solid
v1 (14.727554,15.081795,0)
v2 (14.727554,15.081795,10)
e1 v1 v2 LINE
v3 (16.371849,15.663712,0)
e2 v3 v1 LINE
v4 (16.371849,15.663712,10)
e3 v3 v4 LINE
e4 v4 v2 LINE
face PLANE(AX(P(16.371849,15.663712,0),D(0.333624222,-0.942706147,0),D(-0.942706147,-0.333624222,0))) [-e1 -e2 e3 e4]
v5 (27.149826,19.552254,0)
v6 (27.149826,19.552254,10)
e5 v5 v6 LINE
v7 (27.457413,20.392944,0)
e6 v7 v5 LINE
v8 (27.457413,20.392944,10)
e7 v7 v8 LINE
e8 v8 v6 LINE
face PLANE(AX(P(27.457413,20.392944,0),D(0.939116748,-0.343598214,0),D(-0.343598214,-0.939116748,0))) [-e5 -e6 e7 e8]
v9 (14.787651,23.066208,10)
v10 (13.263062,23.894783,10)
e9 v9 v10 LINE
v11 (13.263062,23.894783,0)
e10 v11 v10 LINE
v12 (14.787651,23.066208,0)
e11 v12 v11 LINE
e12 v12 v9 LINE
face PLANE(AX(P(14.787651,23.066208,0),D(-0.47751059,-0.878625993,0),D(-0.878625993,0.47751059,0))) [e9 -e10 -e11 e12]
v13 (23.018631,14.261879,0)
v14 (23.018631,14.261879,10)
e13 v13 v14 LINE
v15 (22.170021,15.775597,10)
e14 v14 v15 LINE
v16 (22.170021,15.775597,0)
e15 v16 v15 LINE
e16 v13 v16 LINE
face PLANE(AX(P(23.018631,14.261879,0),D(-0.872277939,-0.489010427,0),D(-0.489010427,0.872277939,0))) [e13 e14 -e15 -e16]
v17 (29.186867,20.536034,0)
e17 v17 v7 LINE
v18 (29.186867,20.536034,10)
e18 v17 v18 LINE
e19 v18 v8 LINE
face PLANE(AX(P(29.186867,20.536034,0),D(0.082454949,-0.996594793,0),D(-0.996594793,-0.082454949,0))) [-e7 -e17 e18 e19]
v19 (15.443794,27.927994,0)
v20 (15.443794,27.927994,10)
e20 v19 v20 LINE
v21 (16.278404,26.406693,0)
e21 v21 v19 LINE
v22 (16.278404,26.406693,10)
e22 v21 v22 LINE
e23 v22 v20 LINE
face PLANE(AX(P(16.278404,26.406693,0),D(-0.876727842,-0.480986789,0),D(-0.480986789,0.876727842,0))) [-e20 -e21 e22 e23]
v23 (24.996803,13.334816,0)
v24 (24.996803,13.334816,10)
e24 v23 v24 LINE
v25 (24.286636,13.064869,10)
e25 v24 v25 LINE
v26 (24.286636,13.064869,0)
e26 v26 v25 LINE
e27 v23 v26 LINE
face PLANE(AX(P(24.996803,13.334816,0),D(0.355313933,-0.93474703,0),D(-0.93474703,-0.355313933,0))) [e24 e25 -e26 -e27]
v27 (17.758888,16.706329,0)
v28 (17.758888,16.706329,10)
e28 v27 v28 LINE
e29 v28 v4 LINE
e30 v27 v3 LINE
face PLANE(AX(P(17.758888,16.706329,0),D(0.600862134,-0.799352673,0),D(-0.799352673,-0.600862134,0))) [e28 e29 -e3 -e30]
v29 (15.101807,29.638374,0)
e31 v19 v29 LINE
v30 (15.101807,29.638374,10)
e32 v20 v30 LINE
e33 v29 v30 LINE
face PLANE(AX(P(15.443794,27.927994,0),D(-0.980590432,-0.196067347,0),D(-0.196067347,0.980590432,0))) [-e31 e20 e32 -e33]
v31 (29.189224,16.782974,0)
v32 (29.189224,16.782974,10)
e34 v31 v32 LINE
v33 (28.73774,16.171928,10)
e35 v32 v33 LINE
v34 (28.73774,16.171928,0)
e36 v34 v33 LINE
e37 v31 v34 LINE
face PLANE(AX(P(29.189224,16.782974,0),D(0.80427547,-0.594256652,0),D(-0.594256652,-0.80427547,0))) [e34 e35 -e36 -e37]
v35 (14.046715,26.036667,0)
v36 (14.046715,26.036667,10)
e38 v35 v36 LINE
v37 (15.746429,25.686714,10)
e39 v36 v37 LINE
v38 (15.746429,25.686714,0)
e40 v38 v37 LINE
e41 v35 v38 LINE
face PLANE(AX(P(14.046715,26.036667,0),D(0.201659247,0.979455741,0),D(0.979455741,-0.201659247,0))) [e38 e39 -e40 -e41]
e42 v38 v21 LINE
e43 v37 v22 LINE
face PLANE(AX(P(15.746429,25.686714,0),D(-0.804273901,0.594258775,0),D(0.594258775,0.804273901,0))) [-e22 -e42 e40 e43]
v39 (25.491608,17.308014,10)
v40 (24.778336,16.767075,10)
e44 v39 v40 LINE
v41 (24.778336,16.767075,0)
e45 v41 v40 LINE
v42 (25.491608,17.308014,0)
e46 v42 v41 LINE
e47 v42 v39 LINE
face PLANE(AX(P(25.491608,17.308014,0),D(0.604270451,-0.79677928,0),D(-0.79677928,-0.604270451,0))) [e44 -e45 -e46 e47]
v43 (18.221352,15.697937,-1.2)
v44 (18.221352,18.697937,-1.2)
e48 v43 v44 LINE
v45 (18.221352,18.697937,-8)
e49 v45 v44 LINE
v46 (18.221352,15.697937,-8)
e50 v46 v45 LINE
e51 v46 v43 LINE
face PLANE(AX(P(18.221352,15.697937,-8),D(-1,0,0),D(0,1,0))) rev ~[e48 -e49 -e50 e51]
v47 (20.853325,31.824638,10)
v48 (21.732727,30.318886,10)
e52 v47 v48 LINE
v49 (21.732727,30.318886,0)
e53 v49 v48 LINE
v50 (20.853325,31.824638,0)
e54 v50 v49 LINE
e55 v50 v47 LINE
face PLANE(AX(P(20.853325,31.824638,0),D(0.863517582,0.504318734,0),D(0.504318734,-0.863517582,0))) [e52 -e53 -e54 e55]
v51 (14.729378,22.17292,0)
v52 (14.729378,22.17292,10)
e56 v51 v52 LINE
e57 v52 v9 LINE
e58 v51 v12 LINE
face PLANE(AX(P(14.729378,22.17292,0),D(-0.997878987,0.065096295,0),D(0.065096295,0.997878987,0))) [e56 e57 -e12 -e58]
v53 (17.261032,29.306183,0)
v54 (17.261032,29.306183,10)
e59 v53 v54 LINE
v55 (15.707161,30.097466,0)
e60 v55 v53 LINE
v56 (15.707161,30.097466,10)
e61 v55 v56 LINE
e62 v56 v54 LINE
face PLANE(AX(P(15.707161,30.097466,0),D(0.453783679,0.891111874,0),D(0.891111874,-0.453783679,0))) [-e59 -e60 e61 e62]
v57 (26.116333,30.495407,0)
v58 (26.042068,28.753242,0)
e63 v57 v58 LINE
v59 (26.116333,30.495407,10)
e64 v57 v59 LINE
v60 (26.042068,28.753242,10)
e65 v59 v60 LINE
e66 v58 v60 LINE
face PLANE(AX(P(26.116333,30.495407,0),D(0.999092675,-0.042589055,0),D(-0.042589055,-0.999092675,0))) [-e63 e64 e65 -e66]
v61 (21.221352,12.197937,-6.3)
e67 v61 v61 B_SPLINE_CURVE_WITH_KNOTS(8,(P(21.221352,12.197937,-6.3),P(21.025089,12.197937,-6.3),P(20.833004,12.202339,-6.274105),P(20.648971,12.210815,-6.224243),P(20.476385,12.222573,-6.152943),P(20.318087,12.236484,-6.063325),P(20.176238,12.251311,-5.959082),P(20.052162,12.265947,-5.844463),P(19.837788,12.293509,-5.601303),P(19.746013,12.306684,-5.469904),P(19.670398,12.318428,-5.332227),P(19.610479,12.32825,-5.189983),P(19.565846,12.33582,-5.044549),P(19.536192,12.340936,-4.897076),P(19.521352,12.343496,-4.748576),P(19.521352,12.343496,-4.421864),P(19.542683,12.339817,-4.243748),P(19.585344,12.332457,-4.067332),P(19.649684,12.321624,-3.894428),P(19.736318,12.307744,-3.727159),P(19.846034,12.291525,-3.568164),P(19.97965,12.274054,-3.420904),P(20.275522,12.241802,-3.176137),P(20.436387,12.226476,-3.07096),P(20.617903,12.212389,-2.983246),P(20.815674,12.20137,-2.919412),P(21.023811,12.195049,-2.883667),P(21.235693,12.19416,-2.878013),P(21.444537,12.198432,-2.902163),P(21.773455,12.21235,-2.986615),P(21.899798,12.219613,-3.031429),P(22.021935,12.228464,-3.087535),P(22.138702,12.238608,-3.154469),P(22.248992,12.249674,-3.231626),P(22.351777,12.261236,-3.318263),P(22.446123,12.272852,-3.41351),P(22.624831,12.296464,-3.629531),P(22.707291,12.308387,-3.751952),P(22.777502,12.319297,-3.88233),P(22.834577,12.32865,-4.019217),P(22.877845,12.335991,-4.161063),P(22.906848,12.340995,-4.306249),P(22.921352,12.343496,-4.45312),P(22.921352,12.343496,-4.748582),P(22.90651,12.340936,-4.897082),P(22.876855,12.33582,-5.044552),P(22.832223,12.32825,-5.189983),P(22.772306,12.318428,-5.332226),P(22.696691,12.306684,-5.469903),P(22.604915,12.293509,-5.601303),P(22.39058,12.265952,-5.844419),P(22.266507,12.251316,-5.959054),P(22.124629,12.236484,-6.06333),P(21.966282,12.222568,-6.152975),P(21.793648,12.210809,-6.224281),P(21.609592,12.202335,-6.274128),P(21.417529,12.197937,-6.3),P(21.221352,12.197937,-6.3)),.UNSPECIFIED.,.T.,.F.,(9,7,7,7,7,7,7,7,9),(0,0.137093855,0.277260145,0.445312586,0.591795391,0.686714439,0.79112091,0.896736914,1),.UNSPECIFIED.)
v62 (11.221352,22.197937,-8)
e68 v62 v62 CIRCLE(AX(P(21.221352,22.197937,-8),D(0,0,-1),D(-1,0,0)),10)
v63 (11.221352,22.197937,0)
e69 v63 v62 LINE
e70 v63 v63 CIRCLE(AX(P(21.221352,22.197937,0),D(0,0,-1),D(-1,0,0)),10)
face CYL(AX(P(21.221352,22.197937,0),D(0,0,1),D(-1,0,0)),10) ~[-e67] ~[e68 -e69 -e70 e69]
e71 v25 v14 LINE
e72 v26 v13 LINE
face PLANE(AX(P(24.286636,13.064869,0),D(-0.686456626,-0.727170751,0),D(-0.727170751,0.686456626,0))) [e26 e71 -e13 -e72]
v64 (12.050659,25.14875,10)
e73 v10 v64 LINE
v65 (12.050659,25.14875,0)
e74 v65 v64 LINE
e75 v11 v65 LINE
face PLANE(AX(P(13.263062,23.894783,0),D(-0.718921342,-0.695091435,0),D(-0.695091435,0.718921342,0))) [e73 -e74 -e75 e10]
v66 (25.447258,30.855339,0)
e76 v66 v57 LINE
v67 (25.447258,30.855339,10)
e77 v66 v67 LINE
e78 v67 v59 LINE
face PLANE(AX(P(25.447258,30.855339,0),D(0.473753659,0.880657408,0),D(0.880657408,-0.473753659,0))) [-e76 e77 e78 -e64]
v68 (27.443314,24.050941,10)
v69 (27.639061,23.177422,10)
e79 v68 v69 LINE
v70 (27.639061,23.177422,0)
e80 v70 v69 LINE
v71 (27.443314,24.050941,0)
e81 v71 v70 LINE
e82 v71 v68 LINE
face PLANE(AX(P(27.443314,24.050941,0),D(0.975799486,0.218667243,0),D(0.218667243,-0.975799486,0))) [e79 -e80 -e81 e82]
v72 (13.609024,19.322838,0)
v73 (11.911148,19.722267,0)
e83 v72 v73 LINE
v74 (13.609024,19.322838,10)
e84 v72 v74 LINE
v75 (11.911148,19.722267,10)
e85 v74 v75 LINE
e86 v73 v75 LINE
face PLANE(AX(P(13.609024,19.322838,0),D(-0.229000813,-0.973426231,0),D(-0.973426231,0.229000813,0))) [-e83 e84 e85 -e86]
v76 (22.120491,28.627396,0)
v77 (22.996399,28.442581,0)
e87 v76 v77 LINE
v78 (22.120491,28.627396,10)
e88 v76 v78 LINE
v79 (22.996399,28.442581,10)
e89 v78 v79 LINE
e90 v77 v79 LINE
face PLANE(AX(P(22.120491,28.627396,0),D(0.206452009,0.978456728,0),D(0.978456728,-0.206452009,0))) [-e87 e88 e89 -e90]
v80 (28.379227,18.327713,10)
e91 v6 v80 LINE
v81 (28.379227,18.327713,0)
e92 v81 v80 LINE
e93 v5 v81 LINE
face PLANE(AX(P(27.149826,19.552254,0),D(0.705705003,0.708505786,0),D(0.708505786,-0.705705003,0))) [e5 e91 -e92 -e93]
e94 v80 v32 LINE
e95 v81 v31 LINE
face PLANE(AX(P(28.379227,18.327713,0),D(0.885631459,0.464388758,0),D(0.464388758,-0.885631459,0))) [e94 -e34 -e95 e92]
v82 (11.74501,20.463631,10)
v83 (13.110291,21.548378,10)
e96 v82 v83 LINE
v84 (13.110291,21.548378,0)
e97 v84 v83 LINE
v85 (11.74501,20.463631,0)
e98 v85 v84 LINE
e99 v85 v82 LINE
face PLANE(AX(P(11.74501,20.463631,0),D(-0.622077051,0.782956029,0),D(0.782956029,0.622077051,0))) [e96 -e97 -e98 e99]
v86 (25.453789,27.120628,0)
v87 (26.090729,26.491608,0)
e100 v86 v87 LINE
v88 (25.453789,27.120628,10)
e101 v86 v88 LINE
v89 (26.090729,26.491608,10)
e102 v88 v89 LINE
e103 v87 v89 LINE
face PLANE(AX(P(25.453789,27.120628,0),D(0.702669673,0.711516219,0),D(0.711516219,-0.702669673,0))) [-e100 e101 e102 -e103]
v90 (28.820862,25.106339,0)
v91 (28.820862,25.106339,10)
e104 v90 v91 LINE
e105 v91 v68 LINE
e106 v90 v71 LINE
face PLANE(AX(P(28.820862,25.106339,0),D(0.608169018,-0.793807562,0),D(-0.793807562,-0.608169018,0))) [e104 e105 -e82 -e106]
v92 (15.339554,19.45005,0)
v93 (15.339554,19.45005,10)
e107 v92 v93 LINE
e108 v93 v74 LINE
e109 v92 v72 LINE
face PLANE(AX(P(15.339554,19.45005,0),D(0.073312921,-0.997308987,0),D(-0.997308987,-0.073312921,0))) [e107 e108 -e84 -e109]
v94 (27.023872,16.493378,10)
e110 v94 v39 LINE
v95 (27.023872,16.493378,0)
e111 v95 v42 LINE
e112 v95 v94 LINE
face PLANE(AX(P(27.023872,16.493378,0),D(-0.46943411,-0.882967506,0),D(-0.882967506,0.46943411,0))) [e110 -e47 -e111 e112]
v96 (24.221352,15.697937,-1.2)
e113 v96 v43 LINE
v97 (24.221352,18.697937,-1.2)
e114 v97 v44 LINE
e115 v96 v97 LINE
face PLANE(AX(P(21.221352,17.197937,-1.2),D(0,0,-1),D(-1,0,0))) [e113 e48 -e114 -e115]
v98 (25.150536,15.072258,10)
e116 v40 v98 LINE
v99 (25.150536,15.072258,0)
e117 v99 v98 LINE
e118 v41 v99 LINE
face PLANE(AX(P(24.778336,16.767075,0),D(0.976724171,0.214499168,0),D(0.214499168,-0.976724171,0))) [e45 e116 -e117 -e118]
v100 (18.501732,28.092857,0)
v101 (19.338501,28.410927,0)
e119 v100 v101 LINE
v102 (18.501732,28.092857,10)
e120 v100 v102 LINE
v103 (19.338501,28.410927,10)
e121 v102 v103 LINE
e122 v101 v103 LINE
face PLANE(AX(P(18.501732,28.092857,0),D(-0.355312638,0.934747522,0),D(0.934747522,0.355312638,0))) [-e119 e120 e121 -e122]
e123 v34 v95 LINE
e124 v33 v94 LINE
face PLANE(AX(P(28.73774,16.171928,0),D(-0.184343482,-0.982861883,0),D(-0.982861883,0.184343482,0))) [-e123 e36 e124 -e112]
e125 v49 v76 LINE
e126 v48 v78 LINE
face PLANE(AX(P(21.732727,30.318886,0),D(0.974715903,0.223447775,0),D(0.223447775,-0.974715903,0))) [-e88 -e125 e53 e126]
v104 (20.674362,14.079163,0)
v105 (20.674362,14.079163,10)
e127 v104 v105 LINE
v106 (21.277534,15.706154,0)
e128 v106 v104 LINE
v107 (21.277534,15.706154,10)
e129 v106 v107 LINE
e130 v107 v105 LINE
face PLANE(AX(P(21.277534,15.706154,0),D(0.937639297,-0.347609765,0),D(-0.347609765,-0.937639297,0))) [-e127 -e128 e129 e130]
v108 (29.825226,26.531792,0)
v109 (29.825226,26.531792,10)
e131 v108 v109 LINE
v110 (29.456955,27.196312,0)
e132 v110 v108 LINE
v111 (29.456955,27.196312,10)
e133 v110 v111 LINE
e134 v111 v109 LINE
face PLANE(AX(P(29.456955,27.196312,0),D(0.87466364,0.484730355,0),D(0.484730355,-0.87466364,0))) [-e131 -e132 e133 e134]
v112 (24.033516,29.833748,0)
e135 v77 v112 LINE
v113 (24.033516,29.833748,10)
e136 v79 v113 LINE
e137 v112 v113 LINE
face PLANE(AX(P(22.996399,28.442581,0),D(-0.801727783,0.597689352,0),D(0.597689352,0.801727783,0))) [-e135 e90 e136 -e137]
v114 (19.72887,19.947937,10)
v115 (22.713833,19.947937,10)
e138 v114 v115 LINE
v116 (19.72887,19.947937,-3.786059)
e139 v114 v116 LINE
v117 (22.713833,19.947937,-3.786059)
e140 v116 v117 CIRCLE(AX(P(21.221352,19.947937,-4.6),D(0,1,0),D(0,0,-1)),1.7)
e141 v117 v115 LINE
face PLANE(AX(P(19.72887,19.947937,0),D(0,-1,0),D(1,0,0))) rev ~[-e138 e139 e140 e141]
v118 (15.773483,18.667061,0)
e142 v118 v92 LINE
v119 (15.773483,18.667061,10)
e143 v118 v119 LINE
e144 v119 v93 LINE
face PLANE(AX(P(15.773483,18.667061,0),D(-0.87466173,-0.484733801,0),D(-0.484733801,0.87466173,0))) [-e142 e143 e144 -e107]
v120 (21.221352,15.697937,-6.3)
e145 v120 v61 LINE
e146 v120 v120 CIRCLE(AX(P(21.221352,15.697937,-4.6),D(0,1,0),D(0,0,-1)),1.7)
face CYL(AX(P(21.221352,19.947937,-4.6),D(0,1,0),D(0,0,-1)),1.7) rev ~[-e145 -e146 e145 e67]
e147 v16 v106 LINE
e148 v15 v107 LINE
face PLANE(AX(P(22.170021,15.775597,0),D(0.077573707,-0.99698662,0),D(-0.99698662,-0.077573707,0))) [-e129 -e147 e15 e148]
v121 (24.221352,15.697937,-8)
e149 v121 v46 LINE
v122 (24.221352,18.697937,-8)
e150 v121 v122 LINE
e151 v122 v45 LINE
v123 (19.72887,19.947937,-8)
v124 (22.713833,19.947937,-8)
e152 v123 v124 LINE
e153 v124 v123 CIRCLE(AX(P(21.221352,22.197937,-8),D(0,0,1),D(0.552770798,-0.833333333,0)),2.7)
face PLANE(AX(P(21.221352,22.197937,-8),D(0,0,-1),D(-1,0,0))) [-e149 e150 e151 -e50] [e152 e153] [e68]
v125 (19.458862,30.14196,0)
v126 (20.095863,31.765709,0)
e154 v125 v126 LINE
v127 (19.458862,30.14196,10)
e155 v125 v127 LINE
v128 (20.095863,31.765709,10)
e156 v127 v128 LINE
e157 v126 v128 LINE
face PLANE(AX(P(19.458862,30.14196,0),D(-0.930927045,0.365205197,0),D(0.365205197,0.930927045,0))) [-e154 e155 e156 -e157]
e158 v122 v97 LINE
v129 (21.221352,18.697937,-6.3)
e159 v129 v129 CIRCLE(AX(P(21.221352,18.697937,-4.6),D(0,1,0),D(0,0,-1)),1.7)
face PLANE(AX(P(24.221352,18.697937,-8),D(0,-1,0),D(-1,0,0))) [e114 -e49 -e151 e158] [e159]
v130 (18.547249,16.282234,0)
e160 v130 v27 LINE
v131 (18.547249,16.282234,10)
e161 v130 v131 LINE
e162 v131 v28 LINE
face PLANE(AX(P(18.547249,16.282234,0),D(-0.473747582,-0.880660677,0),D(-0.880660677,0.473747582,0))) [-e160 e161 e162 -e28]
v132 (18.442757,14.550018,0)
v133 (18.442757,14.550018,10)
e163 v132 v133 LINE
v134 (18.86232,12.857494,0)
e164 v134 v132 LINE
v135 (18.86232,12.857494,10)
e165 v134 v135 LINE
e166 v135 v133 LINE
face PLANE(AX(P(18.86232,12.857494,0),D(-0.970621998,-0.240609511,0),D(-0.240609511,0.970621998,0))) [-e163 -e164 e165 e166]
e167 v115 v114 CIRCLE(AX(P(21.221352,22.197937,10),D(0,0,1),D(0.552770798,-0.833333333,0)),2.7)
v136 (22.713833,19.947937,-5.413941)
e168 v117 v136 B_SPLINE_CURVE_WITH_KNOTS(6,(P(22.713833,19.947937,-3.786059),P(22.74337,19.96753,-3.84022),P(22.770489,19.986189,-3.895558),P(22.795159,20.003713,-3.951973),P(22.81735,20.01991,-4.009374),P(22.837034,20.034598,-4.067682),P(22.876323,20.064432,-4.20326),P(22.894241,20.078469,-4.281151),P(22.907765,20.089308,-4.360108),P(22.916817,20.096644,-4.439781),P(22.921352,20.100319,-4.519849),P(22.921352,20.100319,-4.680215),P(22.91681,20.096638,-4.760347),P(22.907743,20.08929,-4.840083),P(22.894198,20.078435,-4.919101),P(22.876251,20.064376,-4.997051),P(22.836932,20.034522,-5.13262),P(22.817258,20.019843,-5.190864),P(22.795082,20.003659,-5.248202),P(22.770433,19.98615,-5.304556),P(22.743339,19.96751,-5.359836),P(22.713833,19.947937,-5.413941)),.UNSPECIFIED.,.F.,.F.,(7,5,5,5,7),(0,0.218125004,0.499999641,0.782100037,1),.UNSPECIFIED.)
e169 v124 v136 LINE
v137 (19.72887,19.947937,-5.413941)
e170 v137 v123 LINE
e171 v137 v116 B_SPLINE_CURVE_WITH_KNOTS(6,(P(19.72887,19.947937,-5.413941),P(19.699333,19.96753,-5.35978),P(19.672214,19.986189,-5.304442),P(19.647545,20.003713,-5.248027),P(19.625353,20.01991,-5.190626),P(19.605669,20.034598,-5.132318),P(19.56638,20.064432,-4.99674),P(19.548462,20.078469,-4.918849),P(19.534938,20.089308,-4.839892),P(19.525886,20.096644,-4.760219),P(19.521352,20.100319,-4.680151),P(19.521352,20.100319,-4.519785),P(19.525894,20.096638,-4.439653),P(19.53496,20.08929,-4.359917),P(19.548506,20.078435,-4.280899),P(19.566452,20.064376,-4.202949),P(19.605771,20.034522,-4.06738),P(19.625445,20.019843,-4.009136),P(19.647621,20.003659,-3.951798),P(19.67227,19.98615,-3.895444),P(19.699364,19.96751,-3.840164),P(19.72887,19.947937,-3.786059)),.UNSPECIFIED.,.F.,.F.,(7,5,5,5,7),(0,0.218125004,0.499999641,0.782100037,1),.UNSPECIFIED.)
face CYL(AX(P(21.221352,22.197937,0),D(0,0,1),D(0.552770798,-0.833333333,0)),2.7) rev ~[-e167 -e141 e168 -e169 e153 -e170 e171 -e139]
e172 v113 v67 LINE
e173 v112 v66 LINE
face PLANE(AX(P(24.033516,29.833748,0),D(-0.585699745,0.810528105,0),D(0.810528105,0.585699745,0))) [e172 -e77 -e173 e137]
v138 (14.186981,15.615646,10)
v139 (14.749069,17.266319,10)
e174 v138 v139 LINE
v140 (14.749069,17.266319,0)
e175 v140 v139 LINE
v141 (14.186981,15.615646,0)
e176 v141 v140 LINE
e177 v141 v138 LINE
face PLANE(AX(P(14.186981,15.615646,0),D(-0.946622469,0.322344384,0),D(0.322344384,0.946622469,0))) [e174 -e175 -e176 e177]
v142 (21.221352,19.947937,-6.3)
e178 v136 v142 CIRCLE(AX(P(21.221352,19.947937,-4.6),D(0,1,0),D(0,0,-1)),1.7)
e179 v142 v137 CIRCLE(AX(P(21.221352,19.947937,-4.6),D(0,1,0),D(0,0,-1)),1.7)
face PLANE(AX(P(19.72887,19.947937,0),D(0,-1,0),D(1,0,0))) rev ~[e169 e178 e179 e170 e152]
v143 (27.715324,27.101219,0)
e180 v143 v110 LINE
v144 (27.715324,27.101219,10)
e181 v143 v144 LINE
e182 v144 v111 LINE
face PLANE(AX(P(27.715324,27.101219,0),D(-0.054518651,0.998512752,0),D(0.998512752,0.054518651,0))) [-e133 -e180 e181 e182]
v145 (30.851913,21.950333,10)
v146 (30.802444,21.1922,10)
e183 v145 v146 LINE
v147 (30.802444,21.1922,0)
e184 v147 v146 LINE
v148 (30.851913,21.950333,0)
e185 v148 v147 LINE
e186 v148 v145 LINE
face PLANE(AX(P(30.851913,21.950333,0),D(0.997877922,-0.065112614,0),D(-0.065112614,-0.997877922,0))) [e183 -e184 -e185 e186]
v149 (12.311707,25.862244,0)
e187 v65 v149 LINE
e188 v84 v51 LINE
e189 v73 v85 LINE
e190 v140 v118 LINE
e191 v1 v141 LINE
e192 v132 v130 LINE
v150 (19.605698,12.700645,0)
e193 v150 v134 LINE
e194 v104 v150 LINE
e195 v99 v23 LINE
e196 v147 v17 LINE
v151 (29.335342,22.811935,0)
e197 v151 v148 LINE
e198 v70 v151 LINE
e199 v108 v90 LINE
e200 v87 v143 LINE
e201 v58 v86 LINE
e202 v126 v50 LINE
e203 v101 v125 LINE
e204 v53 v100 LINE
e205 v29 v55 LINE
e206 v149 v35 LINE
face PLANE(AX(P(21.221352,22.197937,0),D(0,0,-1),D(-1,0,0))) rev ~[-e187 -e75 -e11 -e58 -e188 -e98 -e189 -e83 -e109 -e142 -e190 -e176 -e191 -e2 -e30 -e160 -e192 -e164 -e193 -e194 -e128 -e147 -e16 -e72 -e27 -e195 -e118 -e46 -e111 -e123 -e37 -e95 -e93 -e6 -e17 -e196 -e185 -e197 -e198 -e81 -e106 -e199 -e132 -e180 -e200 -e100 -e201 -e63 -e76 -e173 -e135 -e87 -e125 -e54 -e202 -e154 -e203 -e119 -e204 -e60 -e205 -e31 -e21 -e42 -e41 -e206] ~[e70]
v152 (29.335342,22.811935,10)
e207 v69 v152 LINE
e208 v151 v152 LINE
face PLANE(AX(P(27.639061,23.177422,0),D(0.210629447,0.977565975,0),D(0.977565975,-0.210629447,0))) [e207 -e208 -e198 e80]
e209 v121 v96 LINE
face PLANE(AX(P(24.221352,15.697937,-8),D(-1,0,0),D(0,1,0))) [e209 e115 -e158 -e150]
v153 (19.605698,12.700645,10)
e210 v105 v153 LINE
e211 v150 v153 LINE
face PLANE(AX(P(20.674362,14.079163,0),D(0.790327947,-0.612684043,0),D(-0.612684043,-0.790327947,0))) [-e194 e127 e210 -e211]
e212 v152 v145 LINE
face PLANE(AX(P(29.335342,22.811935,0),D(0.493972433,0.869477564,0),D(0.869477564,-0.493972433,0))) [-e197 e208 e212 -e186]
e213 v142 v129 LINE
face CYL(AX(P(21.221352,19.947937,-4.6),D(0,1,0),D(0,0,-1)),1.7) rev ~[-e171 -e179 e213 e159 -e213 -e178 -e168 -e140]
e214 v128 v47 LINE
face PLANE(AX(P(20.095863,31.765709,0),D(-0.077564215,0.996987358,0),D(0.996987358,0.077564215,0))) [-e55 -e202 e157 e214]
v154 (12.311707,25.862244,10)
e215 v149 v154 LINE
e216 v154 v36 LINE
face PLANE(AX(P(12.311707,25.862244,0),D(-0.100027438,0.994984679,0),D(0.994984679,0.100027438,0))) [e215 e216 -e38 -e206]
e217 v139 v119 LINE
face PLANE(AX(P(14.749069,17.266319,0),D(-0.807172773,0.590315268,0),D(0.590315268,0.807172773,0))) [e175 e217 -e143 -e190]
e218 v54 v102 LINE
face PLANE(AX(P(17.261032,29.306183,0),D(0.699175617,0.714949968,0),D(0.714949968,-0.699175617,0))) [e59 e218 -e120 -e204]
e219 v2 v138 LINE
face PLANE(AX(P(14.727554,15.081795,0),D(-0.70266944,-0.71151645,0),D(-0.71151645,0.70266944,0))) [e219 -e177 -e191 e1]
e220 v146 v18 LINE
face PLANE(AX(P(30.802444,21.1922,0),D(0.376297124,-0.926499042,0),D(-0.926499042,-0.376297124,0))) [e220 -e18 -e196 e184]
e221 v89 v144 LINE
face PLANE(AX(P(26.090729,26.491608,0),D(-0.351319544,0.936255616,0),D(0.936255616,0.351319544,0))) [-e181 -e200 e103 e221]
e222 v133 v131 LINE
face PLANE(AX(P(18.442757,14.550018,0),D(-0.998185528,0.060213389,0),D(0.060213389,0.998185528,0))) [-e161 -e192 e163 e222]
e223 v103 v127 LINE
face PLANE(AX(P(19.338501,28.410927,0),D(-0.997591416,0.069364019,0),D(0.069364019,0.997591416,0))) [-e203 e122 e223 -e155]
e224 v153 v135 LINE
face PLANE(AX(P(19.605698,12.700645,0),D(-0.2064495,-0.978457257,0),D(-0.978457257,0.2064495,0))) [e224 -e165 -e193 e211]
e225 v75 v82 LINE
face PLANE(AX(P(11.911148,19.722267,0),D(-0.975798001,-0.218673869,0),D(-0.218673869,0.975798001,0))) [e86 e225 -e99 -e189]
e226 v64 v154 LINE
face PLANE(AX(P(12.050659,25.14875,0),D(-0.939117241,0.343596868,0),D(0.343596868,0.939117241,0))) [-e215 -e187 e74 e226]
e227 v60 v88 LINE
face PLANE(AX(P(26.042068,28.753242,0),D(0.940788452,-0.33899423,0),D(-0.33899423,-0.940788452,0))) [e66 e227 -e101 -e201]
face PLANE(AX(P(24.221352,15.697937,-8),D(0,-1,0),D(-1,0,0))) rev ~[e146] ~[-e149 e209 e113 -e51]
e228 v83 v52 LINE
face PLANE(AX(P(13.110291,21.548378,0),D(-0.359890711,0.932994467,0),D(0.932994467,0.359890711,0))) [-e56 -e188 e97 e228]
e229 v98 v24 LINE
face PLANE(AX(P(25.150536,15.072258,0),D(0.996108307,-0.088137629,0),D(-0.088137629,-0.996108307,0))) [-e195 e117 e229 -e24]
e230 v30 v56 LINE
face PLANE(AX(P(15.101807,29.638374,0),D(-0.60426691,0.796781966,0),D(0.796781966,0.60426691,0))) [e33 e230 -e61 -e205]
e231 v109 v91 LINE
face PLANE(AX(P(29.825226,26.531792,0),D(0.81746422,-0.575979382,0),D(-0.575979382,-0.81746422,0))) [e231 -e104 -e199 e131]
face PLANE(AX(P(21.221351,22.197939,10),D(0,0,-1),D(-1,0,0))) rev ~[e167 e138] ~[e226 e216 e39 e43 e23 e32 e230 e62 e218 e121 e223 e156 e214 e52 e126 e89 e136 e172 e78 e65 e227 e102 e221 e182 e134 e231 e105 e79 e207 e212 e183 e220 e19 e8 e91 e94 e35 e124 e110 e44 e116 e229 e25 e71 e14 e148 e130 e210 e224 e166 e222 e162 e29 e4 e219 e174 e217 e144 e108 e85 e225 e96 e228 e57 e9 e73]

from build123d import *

# Parameters (mm, degrees)
BOSS_EXTRUDE3_DEPTH     = 10
BOSS_EXTRUDE4_START     = 8
SKETCH3_R               = 10
BOSS_EXTRUDE4_DEPTH     = 8
CUT_EXTRUDE2_DEPTH      = 2
CUT_EXTRUDE2_DEPTH_BACK = 35.997647024
SKETCH7_R               = 1.7
SKETCH8_W               = 6
SKETCH8_H               = 3
CUT_EXTRUDE3_DEPTH      = 6.8


with BuildPart() as part:
    # Sketch1 → Boss-Extrude3 (new body)
    with BuildSketch(Plane.XY):
        Polygon((16.278404236, 26.406692505), (15.44379425, 27.927993774), (15.101806641, 29.638374329), (15.70716095, 30.097465515), (17.261032104, 29.306182861), (18.501731873, 28.092857361), (19.338500977, 28.410926819), (19.458862305, 30.141960144), (20.095863342, 31.765708923), (20.85332489, 31.824638367), (21.732727051, 30.318885803), (22.120491028, 28.62739563), (22.996398926, 28.442581177), (24.03351593, 29.833747864), (25.447257996, 30.85533905), (26.116333008, 30.495407104), (26.042068481, 28.753242493), (25.453788757, 27.120628357), (26.09072876, 26.491607666), (27.715324402, 27.101219177), (29.456954956, 27.196311951), (29.82522583, 26.531791687), (28.820861816, 25.106338501), (27.443313599, 24.050941467), (27.639060974, 23.17742157), (29.335342407, 22.811935425), (30.851913452, 21.950332642), (30.802444458, 21.192199707), (29.18686676, 20.53603363), (27.45741272, 20.392944336), (27.14982605, 19.552253723), (28.379226685, 18.327713013), (29.189224243, 16.782974243), (28.737739563, 16.171928406), (27.023872375, 16.493377686), (25.491607666, 17.308013916), (24.778335571, 16.767074585), (25.150535583, 15.072257996), (24.996803284, 13.334815979), (24.286636353, 13.064868927), (23.018630981, 14.261878967), (22.170021057, 15.775596619), (21.277534485, 15.70615387), (20.674362183, 14.079162598), (19.605697632, 12.700645447), (18.862319946, 12.857494354), (18.442756653, 14.550018311), (18.54724884, 16.282234192), (17.758888245, 16.706329346), (16.37184906, 15.663711548), (14.727554321, 15.081794739), (14.186981201, 15.615646362), (14.749069214, 17.266319275), (15.773483276, 18.667060852), (15.339553833, 19.450050354), (13.609024048, 19.32283783), (11.911148071, 19.722267151), (11.745010376, 20.463630676), (13.110290527, 21.548377991), (14.729377747, 22.172920227), (14.787651062, 23.066207886), (13.263061523, 23.89478302), (12.05065918, 25.148750305), (12.311706543, 25.862243652), (14.046714783, 26.03666687), (15.746429443, 25.686714172), align=None)
        with BuildLine():
            Line((19.728870468, 19.947937012), (22.713832779, 19.947937012))
            ThreePointArc((22.713832779, 19.947937012), (21.221351624, 24.897937012), (19.728870468, 19.947937012))
        make_face(mode=Mode.SUBTRACT)
    extrude(amount=BOSS_EXTRUDE3_DEPTH)

    # Sketch3 → Boss-Extrude4 (add)
    with BuildSketch(Plane(origin=(0, 0, 0), x_dir=(-1, 0, 0), z_dir=(0, 0, -1)).offset(BOSS_EXTRUDE4_START)):
        with Locations((-21.221351624, 22.197937012)):
            Circle(SKETCH3_R)
        with BuildLine():
            Line((-19.728870468, 19.947937012), (-22.713832779, 19.947937012))
            ThreePointArc((-22.713832779, 19.947937012), (-21.221351624, 24.897937012), (-19.728870468, 19.947937012))
        make_face(mode=Mode.SUBTRACT)
    extrude(amount=-BOSS_EXTRUDE4_DEPTH)

    # Sketch7 → Cut-Extrude2 (cut, two sides: drawn at the far end of the back side and taken through both)
    with BuildSketch(Plane(origin=(0, 19.947937012, 0), x_dir=(1, 0, 0), z_dir=(0, 1, 0)).offset(-CUT_EXTRUDE2_DEPTH_BACK)):
        with Locations((21.221351624, 4.6)):
            Circle(SKETCH7_R)
    extrude(amount=CUT_EXTRUDE2_DEPTH + CUT_EXTRUDE2_DEPTH_BACK, mode=Mode.SUBTRACT)

    # Sketch8 → Cut-Extrude3 (cut)
    with BuildSketch(Plane(origin=(0, 0, -8), x_dir=(-1, 0, 0), z_dir=(0, 0, -1))):
        with Locations((-21.221351624, 17.197937012)):
            Rectangle(SKETCH8_W, SKETCH8_H)
    extrude(amount=-CUT_EXTRUDE3_DEPTH, mode=Mode.SUBTRACT)


solid = part.part
